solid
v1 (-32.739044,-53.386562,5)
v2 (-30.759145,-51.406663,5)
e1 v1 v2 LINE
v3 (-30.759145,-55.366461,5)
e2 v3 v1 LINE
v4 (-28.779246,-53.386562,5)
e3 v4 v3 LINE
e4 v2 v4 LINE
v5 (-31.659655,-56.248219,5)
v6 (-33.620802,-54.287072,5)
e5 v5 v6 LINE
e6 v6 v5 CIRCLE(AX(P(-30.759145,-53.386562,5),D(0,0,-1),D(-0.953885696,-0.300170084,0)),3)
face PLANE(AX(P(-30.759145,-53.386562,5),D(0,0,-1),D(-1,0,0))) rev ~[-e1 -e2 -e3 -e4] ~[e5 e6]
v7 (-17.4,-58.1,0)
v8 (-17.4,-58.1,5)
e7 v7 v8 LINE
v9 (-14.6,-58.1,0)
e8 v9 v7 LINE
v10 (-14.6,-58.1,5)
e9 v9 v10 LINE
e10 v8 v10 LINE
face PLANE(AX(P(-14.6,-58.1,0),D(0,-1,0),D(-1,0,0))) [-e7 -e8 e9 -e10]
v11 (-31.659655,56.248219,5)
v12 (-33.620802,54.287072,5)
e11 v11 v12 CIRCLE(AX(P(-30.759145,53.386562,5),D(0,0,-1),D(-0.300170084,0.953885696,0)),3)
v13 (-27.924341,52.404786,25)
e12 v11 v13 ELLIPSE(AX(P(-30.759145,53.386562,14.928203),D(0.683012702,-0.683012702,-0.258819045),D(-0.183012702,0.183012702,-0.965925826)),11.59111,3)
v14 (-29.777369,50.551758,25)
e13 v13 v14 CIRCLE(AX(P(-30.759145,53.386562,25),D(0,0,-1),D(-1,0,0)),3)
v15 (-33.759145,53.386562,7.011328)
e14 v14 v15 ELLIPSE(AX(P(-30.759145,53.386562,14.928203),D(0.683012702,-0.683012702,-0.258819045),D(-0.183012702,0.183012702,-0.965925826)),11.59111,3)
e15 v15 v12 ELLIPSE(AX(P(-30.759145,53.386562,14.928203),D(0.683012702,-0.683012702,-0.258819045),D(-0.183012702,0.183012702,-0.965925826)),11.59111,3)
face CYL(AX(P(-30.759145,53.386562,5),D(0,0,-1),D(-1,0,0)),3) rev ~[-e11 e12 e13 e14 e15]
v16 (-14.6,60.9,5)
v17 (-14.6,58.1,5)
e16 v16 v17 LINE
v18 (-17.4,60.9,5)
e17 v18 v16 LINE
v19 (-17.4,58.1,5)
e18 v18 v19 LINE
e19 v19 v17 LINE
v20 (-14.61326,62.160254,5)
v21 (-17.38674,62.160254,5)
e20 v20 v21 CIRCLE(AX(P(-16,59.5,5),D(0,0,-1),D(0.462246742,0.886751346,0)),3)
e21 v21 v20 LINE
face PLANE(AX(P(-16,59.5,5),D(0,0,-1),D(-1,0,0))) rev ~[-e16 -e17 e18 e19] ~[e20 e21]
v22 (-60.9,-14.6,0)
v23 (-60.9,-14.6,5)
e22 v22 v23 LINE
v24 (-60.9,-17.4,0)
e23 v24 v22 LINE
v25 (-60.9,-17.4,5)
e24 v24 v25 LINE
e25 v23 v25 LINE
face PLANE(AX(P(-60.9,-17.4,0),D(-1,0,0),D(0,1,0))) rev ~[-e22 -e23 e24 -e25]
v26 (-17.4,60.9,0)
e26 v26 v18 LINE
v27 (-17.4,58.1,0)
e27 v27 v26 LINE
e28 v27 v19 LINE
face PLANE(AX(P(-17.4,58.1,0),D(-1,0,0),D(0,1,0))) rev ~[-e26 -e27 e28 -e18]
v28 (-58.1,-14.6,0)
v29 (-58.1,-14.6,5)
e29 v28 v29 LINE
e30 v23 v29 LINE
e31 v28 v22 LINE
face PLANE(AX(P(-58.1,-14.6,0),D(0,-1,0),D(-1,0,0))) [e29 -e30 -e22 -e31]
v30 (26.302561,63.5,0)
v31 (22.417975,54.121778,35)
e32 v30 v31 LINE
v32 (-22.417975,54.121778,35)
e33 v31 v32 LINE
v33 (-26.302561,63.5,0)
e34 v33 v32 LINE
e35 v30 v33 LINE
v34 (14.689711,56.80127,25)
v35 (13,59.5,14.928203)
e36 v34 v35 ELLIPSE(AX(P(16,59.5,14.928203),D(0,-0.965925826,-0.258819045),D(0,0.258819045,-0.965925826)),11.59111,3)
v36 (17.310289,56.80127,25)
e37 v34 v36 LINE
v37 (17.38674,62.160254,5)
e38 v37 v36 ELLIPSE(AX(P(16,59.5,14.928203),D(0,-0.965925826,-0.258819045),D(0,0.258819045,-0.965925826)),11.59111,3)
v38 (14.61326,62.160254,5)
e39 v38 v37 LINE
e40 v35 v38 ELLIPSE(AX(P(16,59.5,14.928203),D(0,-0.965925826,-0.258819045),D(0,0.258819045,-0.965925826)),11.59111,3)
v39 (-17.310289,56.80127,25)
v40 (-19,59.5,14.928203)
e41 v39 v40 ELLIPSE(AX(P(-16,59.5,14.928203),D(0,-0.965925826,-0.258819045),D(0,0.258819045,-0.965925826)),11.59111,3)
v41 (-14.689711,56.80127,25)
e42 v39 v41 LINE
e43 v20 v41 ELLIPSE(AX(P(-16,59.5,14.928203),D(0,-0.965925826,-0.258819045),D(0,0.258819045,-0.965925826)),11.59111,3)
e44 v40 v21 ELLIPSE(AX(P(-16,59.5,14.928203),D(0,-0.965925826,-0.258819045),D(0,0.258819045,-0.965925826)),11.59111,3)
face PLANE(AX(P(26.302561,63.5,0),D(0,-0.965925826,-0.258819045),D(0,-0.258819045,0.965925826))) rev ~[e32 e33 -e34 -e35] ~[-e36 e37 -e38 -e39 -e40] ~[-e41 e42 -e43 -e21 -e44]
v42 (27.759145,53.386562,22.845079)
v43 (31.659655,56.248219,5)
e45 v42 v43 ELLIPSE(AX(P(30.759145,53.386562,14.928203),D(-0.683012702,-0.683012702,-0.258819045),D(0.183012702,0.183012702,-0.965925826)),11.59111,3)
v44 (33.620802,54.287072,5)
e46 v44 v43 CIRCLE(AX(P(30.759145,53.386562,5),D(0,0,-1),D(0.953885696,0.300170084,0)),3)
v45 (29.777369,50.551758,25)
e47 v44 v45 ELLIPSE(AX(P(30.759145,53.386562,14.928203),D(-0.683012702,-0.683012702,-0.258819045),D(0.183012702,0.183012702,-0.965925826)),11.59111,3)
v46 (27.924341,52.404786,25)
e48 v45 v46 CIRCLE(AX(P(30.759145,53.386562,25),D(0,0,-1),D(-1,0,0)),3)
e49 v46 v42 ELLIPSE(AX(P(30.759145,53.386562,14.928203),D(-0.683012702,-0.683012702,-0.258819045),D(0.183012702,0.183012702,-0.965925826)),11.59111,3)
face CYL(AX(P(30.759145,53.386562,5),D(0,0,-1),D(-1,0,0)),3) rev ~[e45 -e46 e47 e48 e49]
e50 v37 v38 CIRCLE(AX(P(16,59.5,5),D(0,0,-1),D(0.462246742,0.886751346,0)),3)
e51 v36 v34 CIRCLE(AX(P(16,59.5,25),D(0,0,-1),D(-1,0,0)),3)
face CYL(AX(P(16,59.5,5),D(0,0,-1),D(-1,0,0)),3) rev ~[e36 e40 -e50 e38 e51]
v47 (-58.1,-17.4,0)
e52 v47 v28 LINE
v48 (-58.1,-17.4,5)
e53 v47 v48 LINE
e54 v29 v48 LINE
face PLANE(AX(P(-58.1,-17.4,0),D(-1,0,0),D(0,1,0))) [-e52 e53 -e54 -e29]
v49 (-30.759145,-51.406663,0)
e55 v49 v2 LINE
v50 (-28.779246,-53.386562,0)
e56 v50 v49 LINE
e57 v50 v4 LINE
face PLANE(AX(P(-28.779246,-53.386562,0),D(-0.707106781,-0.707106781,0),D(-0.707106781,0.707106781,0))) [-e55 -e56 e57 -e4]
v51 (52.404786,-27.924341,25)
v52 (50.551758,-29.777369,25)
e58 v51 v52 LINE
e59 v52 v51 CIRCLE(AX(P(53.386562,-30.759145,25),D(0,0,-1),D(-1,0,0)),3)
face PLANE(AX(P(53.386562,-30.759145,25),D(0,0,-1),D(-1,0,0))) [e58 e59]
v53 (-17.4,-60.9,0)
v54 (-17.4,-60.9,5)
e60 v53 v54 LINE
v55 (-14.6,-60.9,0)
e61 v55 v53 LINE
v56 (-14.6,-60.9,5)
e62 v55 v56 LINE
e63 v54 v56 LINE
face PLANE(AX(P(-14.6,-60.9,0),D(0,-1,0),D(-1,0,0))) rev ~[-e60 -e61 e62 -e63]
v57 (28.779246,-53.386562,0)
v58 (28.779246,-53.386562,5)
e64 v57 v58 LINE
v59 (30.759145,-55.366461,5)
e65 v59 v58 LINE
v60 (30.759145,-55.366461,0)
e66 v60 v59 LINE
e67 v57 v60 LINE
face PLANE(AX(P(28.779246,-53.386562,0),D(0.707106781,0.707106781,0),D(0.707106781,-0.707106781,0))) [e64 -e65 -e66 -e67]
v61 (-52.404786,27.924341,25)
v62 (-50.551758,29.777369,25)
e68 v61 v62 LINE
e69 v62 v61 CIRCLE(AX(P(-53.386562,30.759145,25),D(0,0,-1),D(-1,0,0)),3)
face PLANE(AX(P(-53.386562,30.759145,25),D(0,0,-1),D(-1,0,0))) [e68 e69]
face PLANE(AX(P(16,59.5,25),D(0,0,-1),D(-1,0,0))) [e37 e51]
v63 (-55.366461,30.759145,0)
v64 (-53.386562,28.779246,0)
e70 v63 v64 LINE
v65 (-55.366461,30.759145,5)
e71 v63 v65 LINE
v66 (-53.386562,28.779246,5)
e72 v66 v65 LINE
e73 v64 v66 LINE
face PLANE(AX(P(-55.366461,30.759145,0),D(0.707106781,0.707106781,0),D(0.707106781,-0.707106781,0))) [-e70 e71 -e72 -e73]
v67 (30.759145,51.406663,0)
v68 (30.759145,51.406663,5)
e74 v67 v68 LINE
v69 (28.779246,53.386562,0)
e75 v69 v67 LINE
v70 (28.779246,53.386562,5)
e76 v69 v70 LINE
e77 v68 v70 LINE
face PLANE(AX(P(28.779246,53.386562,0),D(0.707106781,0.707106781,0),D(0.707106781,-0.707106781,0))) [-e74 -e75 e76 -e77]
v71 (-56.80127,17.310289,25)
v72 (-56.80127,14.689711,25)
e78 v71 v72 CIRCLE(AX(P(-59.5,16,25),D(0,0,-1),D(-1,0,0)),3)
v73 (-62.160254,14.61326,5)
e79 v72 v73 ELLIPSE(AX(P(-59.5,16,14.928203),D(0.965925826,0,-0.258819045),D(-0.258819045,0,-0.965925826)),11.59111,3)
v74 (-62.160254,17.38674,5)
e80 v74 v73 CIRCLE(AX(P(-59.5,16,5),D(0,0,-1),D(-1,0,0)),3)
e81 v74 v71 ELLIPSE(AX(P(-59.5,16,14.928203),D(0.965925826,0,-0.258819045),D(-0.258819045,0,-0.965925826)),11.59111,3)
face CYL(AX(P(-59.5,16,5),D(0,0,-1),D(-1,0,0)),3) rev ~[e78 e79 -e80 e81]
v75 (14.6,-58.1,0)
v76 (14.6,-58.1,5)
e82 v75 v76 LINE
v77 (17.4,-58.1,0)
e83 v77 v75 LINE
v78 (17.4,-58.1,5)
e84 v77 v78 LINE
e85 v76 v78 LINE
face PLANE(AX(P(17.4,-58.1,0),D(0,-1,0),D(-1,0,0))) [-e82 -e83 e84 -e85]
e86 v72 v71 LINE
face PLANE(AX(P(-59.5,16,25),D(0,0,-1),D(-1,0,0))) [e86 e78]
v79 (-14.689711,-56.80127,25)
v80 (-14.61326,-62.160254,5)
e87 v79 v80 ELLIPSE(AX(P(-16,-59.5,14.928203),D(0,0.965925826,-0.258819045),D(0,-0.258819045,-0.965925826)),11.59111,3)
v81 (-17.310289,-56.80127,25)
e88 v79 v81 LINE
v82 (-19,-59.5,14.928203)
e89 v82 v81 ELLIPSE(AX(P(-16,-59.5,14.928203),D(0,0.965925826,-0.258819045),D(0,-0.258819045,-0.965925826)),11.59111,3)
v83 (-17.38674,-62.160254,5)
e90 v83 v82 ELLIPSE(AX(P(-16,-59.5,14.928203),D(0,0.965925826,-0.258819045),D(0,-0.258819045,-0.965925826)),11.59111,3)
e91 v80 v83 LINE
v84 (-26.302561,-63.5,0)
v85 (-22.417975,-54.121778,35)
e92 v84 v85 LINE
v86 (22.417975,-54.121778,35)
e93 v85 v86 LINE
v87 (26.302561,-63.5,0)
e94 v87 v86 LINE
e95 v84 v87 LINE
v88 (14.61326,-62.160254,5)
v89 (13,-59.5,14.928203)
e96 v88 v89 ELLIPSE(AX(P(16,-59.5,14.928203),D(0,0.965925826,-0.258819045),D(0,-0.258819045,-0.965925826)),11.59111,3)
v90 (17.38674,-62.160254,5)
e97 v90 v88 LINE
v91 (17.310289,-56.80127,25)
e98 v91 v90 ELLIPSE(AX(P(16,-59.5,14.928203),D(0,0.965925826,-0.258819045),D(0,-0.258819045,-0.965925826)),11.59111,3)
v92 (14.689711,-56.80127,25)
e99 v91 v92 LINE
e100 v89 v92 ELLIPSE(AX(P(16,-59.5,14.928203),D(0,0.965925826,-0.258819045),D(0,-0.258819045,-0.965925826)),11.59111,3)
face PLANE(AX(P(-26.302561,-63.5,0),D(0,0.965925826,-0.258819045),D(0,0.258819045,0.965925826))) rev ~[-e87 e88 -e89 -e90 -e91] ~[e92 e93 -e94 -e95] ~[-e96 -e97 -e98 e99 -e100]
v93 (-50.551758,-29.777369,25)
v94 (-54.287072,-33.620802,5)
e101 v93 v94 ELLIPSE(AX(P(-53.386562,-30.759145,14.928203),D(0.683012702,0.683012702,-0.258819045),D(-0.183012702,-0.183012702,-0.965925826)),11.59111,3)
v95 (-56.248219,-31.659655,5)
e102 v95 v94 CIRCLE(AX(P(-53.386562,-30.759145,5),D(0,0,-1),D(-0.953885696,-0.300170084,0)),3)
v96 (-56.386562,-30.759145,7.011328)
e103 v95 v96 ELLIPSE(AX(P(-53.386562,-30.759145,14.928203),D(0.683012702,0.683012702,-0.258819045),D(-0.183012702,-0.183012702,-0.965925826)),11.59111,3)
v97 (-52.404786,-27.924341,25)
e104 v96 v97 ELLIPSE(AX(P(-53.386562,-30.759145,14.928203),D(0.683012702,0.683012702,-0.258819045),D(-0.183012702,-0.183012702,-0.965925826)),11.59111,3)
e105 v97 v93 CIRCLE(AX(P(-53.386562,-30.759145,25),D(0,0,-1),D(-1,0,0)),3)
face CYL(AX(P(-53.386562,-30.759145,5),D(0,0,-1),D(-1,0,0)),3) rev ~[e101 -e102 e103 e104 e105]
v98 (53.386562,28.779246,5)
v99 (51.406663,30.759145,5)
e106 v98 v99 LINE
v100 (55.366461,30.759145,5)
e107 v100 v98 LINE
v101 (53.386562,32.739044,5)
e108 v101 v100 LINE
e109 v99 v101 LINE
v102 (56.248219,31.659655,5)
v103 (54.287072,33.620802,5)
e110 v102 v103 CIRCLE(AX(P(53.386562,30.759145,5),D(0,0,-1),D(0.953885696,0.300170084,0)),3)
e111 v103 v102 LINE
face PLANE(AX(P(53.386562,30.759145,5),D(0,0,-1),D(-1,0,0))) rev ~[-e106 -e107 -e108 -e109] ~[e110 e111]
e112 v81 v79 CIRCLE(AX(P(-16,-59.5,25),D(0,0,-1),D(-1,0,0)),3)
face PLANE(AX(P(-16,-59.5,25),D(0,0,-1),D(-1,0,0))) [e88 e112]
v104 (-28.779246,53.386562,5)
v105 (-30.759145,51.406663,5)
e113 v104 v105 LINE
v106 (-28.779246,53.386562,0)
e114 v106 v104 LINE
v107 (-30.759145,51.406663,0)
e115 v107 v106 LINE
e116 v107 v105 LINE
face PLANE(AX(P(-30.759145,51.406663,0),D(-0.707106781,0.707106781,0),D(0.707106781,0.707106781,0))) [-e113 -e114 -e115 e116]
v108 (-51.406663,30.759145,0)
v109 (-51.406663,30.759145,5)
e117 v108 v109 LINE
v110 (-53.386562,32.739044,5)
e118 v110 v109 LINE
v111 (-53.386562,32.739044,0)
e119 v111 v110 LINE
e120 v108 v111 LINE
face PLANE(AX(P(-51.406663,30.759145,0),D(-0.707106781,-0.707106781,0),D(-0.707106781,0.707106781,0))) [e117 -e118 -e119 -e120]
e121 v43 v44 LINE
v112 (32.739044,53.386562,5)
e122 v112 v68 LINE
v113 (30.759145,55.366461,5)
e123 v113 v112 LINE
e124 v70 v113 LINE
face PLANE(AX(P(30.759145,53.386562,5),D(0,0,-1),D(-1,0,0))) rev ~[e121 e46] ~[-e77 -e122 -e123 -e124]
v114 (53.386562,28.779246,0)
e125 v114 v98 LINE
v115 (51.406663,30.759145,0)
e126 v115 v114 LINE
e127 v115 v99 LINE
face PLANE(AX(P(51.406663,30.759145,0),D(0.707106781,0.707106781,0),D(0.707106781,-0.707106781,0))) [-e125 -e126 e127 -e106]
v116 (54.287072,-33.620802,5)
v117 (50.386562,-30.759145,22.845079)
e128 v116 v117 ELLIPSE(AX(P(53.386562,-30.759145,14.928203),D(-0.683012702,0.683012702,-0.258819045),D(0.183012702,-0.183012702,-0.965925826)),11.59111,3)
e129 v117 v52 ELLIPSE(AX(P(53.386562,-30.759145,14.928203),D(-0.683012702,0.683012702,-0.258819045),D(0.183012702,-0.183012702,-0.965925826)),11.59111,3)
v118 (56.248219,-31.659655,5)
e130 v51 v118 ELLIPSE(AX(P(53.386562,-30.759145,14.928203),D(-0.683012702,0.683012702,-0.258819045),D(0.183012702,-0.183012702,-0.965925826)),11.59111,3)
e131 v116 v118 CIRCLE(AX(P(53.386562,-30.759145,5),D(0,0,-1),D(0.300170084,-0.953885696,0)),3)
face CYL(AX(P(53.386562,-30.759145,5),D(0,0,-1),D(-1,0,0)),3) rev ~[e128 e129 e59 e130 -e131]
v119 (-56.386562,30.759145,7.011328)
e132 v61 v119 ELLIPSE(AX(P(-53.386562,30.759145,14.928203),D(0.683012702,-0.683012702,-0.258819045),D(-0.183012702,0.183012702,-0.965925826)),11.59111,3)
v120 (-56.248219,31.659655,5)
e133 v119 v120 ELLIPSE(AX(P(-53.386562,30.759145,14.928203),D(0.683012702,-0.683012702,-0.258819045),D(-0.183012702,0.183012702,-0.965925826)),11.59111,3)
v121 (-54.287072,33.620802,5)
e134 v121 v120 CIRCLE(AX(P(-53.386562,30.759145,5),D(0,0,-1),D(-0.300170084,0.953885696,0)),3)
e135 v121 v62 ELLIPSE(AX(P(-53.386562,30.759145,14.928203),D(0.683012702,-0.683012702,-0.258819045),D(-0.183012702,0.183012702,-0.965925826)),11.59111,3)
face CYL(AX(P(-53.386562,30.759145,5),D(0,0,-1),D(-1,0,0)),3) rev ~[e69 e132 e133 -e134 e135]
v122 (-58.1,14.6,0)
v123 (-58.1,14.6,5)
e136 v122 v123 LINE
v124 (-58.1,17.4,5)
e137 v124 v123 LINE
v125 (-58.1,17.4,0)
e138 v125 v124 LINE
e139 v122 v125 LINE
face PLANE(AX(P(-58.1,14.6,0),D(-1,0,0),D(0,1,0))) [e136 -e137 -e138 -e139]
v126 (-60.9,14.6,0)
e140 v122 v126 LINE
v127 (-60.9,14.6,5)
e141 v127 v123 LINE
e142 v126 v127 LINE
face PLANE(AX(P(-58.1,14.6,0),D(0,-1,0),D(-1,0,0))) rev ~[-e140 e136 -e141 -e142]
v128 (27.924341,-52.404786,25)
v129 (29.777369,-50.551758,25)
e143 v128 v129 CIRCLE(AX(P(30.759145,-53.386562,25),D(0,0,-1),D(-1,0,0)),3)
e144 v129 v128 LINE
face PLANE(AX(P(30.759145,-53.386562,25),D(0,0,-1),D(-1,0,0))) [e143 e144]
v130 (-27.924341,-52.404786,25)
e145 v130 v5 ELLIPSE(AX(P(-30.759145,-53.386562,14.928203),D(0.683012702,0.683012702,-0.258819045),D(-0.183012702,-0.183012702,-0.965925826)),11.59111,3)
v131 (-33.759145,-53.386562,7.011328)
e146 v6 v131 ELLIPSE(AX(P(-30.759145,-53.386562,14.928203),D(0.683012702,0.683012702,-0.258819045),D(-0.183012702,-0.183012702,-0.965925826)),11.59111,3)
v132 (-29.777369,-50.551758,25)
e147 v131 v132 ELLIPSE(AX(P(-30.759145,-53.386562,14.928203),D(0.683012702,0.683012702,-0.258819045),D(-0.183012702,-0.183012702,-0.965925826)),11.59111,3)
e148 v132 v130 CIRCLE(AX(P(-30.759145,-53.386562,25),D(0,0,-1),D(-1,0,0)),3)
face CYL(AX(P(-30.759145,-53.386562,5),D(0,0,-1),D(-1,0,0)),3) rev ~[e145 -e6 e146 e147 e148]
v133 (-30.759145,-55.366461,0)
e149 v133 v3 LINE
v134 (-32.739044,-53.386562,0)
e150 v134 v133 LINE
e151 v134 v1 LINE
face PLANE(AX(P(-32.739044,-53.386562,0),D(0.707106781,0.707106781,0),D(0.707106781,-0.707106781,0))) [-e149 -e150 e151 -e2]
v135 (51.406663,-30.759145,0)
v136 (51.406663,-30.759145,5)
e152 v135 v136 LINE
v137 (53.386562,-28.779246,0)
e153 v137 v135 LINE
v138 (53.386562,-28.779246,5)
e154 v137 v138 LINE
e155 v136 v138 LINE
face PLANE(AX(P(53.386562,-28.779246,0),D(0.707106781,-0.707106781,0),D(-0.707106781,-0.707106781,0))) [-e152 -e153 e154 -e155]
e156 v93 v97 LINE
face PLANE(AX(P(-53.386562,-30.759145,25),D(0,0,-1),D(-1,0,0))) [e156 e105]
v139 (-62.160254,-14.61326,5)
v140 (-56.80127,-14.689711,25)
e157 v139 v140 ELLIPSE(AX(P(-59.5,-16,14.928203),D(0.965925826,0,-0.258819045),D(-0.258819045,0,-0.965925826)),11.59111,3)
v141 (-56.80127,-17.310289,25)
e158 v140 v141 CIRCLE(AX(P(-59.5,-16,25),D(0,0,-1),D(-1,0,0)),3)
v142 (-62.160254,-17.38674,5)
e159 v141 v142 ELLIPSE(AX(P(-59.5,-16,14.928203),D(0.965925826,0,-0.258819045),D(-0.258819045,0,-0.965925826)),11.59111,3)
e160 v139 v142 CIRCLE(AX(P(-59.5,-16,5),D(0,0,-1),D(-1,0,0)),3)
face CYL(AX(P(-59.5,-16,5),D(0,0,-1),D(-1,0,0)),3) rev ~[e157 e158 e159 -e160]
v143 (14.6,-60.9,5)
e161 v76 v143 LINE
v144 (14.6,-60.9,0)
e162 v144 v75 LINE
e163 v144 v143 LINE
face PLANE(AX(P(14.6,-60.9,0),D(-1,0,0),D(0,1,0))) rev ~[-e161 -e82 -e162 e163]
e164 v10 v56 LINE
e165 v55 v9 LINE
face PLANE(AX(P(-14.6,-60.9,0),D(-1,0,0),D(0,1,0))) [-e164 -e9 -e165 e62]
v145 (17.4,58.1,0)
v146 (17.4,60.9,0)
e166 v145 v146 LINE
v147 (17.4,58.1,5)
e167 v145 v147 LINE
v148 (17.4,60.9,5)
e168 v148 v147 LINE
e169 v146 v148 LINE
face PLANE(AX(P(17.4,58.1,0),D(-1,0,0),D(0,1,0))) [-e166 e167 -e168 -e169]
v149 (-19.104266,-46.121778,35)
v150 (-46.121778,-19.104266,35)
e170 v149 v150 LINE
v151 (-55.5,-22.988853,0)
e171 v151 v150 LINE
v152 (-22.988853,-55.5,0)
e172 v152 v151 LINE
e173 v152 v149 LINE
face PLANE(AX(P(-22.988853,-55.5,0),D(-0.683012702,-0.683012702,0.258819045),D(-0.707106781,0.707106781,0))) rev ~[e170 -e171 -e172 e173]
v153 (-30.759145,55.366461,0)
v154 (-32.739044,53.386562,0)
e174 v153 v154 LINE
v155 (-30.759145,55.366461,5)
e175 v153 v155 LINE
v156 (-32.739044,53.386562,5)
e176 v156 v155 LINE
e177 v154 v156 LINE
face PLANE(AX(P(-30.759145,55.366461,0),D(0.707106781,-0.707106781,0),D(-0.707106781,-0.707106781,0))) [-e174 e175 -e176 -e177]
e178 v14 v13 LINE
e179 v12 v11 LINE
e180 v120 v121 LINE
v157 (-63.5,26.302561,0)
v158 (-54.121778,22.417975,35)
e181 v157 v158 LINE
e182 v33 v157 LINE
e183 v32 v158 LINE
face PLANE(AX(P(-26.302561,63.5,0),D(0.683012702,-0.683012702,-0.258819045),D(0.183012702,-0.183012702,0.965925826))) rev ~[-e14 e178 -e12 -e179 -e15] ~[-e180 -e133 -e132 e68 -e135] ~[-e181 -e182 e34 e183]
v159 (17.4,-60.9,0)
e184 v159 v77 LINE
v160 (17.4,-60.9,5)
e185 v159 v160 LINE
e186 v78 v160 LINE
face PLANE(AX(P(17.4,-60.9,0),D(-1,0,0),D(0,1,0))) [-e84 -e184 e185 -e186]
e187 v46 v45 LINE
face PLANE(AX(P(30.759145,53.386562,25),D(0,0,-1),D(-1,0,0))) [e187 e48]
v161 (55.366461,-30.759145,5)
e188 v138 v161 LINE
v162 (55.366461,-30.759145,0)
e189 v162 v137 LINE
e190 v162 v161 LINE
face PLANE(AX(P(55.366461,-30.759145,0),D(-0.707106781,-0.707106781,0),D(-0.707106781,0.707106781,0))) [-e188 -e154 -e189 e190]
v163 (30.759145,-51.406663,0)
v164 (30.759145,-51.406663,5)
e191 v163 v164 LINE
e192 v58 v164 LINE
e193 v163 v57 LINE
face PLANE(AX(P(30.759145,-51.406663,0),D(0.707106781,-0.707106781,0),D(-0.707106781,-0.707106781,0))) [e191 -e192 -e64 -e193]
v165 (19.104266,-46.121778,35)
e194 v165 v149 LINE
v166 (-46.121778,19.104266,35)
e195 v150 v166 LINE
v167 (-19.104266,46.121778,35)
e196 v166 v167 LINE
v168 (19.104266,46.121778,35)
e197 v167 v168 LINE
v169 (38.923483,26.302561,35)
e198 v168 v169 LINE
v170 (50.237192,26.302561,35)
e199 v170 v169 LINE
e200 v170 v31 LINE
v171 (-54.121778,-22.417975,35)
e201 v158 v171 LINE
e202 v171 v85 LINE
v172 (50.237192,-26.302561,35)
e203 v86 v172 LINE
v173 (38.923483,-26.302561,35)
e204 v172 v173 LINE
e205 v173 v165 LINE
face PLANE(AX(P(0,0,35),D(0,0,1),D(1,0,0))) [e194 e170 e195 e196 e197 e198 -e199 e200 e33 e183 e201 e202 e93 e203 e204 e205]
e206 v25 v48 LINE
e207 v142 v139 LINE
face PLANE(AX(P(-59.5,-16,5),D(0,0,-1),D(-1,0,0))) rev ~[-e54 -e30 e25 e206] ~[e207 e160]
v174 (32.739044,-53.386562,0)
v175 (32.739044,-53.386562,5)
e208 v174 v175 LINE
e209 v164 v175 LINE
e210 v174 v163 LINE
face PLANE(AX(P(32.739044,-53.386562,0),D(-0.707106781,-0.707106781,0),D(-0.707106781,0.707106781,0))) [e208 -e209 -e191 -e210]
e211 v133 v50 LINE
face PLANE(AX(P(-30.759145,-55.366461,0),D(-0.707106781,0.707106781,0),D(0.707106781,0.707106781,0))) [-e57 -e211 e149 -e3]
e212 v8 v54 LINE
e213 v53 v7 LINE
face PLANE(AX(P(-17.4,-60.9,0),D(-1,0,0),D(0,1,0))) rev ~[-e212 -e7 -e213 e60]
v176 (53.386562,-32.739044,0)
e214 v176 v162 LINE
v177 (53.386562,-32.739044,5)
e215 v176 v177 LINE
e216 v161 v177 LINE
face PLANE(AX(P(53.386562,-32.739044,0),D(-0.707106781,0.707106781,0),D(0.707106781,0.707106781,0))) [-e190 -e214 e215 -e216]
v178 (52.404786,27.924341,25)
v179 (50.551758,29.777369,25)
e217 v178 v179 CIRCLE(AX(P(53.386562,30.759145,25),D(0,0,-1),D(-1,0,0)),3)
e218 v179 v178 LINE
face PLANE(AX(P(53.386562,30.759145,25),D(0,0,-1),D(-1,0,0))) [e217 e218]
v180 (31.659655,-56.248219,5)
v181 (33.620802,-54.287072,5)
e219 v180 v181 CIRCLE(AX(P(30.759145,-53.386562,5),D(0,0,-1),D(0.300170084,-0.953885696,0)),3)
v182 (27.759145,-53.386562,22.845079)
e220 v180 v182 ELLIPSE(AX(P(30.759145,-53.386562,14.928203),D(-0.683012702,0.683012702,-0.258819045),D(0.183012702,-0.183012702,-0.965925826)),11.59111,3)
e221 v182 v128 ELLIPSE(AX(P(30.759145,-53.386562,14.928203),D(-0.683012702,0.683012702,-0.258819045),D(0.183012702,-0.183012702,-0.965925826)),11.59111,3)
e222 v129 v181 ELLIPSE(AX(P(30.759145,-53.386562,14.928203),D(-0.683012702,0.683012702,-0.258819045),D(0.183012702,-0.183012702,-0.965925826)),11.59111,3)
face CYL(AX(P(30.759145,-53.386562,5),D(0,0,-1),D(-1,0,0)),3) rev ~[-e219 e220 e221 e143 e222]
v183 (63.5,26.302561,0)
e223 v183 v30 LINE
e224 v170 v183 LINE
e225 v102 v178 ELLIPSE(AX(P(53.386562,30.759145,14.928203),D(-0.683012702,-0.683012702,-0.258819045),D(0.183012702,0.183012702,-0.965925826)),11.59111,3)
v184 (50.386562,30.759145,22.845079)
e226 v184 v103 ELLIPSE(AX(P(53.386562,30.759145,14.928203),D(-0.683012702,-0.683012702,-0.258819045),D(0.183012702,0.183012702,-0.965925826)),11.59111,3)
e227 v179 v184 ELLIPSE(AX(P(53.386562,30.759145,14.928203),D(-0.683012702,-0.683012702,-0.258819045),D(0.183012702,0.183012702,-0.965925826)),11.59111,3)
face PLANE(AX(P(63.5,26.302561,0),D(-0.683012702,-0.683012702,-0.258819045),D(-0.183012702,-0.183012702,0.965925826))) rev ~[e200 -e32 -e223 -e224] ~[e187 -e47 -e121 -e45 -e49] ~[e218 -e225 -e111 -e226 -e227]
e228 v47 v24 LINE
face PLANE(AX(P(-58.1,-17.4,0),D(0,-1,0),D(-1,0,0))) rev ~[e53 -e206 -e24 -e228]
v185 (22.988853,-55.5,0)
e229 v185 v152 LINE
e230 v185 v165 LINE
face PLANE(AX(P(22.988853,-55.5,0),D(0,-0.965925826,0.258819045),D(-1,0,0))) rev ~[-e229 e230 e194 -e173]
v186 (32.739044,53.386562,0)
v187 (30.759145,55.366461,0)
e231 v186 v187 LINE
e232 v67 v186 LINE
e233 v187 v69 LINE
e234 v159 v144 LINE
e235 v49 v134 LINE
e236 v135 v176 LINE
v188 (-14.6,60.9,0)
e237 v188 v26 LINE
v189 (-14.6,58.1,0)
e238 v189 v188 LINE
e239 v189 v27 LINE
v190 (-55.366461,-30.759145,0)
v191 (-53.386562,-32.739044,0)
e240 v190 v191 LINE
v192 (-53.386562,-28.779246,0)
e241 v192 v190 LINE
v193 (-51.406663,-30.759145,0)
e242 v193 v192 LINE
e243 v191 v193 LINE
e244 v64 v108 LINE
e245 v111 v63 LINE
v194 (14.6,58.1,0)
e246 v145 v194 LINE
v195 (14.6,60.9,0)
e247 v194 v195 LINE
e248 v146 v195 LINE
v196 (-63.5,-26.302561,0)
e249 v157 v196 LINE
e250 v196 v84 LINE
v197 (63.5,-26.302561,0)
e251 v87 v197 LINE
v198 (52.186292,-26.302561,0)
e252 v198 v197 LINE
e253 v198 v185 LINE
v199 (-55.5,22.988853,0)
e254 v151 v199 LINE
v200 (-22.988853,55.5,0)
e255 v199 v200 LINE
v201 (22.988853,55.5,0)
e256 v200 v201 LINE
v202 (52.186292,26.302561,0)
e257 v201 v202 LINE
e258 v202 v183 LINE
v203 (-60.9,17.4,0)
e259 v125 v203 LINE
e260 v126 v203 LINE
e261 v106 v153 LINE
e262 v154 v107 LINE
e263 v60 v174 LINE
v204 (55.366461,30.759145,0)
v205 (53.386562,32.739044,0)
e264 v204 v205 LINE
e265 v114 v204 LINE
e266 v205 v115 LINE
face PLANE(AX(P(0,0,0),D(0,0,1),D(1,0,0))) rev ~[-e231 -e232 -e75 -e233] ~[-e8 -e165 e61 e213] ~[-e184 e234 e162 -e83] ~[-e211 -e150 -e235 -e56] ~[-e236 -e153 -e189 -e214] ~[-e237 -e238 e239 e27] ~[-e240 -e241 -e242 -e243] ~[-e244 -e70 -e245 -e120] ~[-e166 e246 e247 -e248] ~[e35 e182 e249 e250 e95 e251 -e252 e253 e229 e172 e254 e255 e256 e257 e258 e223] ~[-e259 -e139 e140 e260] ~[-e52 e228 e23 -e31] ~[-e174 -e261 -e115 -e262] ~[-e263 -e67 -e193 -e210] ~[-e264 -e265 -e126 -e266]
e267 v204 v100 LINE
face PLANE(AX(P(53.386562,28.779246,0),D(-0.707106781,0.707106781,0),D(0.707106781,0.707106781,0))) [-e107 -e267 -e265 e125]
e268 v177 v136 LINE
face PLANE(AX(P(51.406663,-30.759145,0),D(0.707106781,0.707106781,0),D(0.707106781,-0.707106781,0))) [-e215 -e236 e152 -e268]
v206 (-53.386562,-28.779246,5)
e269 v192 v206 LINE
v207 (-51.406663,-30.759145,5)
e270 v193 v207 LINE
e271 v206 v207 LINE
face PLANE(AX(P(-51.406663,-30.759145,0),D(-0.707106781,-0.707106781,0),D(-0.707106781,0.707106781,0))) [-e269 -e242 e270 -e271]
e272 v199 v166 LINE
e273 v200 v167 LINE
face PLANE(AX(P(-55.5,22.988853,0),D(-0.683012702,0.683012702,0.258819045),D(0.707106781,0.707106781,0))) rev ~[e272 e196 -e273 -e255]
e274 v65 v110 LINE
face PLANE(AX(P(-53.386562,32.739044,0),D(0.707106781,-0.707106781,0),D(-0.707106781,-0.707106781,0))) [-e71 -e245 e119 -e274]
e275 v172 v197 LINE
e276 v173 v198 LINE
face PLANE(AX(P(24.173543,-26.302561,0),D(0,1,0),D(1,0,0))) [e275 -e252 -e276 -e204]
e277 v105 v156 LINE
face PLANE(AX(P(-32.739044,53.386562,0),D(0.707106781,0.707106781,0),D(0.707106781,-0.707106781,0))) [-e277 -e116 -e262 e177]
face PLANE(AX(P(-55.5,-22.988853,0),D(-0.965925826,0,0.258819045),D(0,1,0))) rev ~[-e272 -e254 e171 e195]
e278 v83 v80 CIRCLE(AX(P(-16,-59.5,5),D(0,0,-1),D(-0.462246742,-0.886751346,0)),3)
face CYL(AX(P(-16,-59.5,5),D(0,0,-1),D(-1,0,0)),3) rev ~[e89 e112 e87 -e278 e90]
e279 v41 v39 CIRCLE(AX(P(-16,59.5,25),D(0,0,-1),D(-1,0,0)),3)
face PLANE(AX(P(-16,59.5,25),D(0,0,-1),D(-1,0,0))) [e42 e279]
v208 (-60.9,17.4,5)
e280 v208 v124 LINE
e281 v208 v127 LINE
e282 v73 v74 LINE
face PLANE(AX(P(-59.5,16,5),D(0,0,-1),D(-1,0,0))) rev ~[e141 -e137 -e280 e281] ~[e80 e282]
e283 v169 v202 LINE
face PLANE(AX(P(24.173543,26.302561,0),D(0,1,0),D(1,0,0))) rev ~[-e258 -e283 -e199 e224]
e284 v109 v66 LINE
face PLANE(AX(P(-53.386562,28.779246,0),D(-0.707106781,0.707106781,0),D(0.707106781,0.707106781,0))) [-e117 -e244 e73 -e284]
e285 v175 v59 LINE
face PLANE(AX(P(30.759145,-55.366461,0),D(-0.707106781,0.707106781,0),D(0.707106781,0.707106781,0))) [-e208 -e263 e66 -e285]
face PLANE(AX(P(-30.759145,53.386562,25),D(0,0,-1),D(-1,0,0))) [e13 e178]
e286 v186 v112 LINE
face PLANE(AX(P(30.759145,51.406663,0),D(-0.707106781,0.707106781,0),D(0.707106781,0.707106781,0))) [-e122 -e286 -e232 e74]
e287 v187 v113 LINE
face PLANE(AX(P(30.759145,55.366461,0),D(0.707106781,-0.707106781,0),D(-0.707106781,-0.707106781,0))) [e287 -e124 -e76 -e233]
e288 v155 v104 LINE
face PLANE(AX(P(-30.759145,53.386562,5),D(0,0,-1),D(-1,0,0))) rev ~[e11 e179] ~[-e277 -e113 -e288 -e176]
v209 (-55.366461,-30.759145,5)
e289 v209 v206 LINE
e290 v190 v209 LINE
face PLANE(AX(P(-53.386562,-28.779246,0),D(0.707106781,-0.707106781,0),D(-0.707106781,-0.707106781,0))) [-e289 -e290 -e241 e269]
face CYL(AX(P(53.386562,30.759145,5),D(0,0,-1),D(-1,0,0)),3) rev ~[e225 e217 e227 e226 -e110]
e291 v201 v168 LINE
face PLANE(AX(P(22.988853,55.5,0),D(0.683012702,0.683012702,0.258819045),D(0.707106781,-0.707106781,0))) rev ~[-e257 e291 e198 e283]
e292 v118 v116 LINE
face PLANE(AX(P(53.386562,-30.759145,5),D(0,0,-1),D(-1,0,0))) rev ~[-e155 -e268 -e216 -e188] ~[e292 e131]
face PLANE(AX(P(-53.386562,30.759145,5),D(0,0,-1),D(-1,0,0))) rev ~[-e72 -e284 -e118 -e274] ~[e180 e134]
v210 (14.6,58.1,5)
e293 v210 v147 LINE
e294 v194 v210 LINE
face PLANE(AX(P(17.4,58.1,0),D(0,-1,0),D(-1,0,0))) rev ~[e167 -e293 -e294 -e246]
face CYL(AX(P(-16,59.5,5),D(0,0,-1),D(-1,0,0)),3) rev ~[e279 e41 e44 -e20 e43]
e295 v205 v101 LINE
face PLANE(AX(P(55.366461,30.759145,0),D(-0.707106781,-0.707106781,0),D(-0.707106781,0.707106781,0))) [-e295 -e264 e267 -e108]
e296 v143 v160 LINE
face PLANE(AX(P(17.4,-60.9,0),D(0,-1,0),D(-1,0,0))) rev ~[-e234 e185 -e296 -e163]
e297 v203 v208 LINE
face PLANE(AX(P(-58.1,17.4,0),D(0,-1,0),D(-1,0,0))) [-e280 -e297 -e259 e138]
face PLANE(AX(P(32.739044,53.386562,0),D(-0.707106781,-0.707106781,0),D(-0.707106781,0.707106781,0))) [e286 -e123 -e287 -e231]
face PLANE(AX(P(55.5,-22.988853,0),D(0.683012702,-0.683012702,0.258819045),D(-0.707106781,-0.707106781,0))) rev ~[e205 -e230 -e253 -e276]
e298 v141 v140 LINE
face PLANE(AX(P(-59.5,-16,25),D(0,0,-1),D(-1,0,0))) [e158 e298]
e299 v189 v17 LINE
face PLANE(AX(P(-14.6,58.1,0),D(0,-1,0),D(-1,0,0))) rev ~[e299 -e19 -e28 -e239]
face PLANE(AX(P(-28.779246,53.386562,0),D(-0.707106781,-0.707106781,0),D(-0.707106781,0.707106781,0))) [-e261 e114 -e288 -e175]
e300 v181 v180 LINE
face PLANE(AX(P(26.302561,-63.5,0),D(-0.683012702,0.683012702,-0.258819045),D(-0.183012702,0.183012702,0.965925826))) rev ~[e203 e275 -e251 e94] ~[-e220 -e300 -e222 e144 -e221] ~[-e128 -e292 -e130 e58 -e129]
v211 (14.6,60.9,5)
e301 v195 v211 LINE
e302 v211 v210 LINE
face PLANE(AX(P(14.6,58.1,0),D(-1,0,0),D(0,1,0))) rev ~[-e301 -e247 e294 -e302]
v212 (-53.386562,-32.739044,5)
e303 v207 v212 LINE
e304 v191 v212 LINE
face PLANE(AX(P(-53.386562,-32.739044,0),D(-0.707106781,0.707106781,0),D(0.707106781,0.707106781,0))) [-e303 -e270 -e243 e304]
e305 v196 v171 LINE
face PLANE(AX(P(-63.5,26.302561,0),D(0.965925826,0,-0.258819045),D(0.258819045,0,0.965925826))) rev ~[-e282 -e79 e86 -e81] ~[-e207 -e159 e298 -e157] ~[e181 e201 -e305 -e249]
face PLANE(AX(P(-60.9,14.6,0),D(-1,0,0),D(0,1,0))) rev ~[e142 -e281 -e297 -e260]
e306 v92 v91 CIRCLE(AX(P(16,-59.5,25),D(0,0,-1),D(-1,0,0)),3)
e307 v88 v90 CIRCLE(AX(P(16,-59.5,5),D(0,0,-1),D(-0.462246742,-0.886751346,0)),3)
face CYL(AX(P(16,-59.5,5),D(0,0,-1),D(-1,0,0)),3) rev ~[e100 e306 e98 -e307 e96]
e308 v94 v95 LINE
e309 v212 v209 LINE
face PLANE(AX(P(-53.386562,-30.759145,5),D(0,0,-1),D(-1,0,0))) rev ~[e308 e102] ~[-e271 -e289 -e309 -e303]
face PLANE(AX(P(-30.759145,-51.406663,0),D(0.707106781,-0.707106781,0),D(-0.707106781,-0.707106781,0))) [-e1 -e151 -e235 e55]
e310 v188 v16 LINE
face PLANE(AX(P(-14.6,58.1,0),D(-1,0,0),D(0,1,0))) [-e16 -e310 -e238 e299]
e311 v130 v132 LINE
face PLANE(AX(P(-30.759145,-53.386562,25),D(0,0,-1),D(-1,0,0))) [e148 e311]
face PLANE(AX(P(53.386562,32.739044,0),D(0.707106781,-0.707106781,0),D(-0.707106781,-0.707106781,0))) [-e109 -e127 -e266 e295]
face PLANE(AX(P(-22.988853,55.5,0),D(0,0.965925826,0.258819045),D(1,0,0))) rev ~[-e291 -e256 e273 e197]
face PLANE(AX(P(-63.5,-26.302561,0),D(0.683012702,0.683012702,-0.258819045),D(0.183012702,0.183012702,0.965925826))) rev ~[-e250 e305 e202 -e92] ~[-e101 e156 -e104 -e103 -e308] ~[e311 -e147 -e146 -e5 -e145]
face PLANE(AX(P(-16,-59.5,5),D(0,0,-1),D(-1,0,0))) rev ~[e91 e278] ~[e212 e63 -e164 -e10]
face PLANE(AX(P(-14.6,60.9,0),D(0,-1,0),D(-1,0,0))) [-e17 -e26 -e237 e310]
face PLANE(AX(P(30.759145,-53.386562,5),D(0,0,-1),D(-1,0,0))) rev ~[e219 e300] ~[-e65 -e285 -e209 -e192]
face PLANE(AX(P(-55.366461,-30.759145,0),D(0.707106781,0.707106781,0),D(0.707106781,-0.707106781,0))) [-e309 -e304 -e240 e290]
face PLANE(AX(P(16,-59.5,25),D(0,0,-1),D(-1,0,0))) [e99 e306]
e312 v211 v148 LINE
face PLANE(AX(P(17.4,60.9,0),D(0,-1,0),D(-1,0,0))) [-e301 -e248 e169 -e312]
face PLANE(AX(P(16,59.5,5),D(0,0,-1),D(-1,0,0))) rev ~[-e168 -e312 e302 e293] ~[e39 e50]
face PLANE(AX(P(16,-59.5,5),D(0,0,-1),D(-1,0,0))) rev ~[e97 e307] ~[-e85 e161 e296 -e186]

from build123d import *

# Parameters (mm, degrees)
RESSALTO_EXTRUS_O1_DEPTH = 35
RESSALTO_EXTRUS_O1_TAPER = 15
ESBO_O2_W                = 39.326456566
ESBO_O2_H                = 52.605122422
CORTE_EXTRUS_O1_DEPTH    = 50
ESBO_O5_W                = 2.8
ESBO_O5_H                = 2.8
CORTE_EXTRUS_O2_DEPTH    = 97.382052271
CORTE_EXTRUS_O3_START    = -5
ESBO_O6_R                = 3
CORTE_EXTRUS_O3_DEPTH    = 20
CORTE_EXTRUS_O4_DEPTH    = 35
CORTE_EXTRUS_O4_DRAFT    = -15


with BuildPart() as part:
    # Esboço1 → Ressalto-extrusão1 (new body)
    with BuildSketch(Plane.XY):
        Polygon((63.5, -26.302561211), (63.5, 26.302561211), (26.302561211, 63.5), (-26.302561211, 63.5), (-63.5, 26.302561211), (-63.5, -26.302561211), (-26.302561211, -63.5), (26.302561211, -63.5), align=None)
    extrude(amount=RESSALTO_EXTRUS_O1_DEPTH, taper=RESSALTO_EXTRUS_O1_TAPER)

    # Esboço2 → Corte-extrusão1 (cut)
    with BuildSketch(Plane.XY):
        with Locations((43.836771717, 0)):
            Rectangle(ESBO_O2_W, ESBO_O2_H)
    extrude(amount=CORTE_EXTRUS_O1_DEPTH, mode=Mode.SUBTRACT)

    # Esboço5 → Corte-extrusão2 (cut, through all)
    with BuildSketch(Plane(origin=(0, 0, 0), x_dir=(-1, 0, 0), z_dir=(0, 0, -1))):
        with Locations((-16, 59.5)):
            Rectangle(ESBO_O5_W, ESBO_O5_H)
        Polygon((30.759144982, 55.366460967), (32.739043969, 53.38656198), (30.759144982, 51.406662992), (28.779245994, 53.38656198), align=None)
        with Locations((16, 59.5)):
            Rectangle(ESBO_O5_W, ESBO_O5_H)
        Polygon((53.38656198, 32.739043969), (55.366460967, 30.759144982), (53.38656198, 28.779245994), (51.406662992, 30.759144982), align=None)
        with Locations((59.5, 16)):
            Rectangle(ESBO_O5_W, ESBO_O5_H)
        with Locations((59.5, -16)):
            Rectangle(ESBO_O5_W, ESBO_O5_H)
        Polygon((55.366460967, -30.759144982), (53.38656198, -32.739043969), (51.406662992, -30.759144982), (53.38656198, -28.779245994), align=None)
        Polygon((32.739043969, -53.38656198), (30.759144982, -55.366460967), (28.779245994, -53.38656198), (30.759144982, -51.406662992), align=None)
        with Locations((16, -59.5)):
            Rectangle(ESBO_O5_W, ESBO_O5_H)
        with Locations((-16, -59.5)):
            Rectangle(ESBO_O5_W, ESBO_O5_H)
        Polygon((-30.759144982, -55.366460967), (-32.739043969, -53.38656198), (-30.759144982, -51.406662992), (-28.779245994, -53.38656198), align=None)
        Polygon((-53.38656198, -32.739043969), (-55.366460967, -30.759144982), (-53.38656198, -28.779245994), (-51.406662992, -30.759144982), align=None)
        with Locations((-59.5, -16)):
            Rectangle(ESBO_O5_W, ESBO_O5_H)
        with Locations((-59.5, 16)):
            Rectangle(ESBO_O5_W, ESBO_O5_H)
        Polygon((-55.366460967, 30.759144982), (-53.38656198, 32.739043969), (-51.406662992, 30.759144982), (-53.38656198, 28.779245994), align=None)
        Polygon((-32.739043969, 53.38656198), (-30.759144982, 55.366460967), (-28.779245994, 53.38656198), (-30.759144982, 51.406662992), align=None)
    extrude(amount=-CORTE_EXTRUS_O2_DEPTH, mode=Mode.SUBTRACT)

    # Esboço6 → Corte-extrusão3 (cut)
    with BuildSketch(Plane(origin=(0, 0, 0), x_dir=(-1, 0, 0), z_dir=(0, 0, -1)).offset(CORTE_EXTRUS_O3_START)):
        with Locations((-16, 59.5)):
            Circle(ESBO_O6_R)
        with Locations((16, 59.5)):
            Circle(ESBO_O6_R)
        with Locations((30.759144982, 53.38656198)):
            Circle(ESBO_O6_R)
        with Locations((53.38656198, 30.759144982)):
            Circle(ESBO_O6_R)
        with Locations((59.5, 16)):
            Circle(ESBO_O6_R)
        with Locations((59.5, -16)):
            Circle(ESBO_O6_R)
        with Locations((53.38656198, -30.759144982)):
            Circle(ESBO_O6_R)
        with Locations((30.759144982, -53.38656198)):
            Circle(ESBO_O6_R)
        with Locations((16, -59.5)):
            Circle(ESBO_O6_R)
        with Locations((-16, -59.5)):
            Circle(ESBO_O6_R)
        with Locations((-30.759144982, -53.38656198)):
            Circle(ESBO_O6_R)
        with Locations((-53.38656198, -30.759144982)):
            Circle(ESBO_O6_R)
        with Locations((-59.5, -16)):
            Circle(ESBO_O6_R)
        with Locations((-59.5, 16)):
            Circle(ESBO_O6_R)
        with Locations((-53.38656198, 30.759144982)):
            Circle(ESBO_O6_R)
        with Locations((-30.759144982, 53.38656198)):
            Circle(ESBO_O6_R)
    extrude(amount=-CORTE_EXTRUS_O3_DEPTH, mode=Mode.SUBTRACT)


with BuildPart() as corte_extrus_o4_tool:
    # Esboço9 → Corte-extrusão4 (with draft: the straight prism first)
    with BuildSketch(Plane(origin=(0, 0, 0), x_dir=(-1, 0, 0), z_dir=(0, 0, -1))):
        Polygon((22.988852712, 55.5), (-22.988852712, 55.5), (-55.5, 22.988852712), (-55.5, -22.988852712), (-22.988852712, -55.5), (22.988852712, -55.5), (55.5, -22.988852712), (55.5, 22.988852712), align=None)
    extrude(amount=-CORTE_EXTRUS_O4_DEPTH)
    # Corte-extrusão4: the draft: its side faces are tilted about the plane it starts from
    corte_extrus_o4_sides = [corte_extrus_o4_tool.faces().sort_by_distance(p)[0] for p in [
        (0, 55.5, 17.5),
        (39.244426356, 39.244426356, 17.5),
        (55.5, 0, 17.5),
        (39.244426356, -39.244426356, 17.5),
        (0, -55.5, 17.5),
        (-39.244426356, -39.244426356, 17.5),
        (-55.5, 0, 17.5),
        (-39.244426356, 39.244426356, 17.5),
    ]]
    draft(corte_extrus_o4_sides, Plane(origin=(0, 0, 0), x_dir=(-1, 0, 0), z_dir=(0, 0, -1)), CORTE_EXTRUS_O4_DRAFT)


with BuildPart() as part_1:
    add(part.part)

    # Corte-extrusão4: cut by corte_extrus_o4_tool
    add(corte_extrus_o4_tool.part, mode=Mode.SUBTRACT)


solid = part_1.part
